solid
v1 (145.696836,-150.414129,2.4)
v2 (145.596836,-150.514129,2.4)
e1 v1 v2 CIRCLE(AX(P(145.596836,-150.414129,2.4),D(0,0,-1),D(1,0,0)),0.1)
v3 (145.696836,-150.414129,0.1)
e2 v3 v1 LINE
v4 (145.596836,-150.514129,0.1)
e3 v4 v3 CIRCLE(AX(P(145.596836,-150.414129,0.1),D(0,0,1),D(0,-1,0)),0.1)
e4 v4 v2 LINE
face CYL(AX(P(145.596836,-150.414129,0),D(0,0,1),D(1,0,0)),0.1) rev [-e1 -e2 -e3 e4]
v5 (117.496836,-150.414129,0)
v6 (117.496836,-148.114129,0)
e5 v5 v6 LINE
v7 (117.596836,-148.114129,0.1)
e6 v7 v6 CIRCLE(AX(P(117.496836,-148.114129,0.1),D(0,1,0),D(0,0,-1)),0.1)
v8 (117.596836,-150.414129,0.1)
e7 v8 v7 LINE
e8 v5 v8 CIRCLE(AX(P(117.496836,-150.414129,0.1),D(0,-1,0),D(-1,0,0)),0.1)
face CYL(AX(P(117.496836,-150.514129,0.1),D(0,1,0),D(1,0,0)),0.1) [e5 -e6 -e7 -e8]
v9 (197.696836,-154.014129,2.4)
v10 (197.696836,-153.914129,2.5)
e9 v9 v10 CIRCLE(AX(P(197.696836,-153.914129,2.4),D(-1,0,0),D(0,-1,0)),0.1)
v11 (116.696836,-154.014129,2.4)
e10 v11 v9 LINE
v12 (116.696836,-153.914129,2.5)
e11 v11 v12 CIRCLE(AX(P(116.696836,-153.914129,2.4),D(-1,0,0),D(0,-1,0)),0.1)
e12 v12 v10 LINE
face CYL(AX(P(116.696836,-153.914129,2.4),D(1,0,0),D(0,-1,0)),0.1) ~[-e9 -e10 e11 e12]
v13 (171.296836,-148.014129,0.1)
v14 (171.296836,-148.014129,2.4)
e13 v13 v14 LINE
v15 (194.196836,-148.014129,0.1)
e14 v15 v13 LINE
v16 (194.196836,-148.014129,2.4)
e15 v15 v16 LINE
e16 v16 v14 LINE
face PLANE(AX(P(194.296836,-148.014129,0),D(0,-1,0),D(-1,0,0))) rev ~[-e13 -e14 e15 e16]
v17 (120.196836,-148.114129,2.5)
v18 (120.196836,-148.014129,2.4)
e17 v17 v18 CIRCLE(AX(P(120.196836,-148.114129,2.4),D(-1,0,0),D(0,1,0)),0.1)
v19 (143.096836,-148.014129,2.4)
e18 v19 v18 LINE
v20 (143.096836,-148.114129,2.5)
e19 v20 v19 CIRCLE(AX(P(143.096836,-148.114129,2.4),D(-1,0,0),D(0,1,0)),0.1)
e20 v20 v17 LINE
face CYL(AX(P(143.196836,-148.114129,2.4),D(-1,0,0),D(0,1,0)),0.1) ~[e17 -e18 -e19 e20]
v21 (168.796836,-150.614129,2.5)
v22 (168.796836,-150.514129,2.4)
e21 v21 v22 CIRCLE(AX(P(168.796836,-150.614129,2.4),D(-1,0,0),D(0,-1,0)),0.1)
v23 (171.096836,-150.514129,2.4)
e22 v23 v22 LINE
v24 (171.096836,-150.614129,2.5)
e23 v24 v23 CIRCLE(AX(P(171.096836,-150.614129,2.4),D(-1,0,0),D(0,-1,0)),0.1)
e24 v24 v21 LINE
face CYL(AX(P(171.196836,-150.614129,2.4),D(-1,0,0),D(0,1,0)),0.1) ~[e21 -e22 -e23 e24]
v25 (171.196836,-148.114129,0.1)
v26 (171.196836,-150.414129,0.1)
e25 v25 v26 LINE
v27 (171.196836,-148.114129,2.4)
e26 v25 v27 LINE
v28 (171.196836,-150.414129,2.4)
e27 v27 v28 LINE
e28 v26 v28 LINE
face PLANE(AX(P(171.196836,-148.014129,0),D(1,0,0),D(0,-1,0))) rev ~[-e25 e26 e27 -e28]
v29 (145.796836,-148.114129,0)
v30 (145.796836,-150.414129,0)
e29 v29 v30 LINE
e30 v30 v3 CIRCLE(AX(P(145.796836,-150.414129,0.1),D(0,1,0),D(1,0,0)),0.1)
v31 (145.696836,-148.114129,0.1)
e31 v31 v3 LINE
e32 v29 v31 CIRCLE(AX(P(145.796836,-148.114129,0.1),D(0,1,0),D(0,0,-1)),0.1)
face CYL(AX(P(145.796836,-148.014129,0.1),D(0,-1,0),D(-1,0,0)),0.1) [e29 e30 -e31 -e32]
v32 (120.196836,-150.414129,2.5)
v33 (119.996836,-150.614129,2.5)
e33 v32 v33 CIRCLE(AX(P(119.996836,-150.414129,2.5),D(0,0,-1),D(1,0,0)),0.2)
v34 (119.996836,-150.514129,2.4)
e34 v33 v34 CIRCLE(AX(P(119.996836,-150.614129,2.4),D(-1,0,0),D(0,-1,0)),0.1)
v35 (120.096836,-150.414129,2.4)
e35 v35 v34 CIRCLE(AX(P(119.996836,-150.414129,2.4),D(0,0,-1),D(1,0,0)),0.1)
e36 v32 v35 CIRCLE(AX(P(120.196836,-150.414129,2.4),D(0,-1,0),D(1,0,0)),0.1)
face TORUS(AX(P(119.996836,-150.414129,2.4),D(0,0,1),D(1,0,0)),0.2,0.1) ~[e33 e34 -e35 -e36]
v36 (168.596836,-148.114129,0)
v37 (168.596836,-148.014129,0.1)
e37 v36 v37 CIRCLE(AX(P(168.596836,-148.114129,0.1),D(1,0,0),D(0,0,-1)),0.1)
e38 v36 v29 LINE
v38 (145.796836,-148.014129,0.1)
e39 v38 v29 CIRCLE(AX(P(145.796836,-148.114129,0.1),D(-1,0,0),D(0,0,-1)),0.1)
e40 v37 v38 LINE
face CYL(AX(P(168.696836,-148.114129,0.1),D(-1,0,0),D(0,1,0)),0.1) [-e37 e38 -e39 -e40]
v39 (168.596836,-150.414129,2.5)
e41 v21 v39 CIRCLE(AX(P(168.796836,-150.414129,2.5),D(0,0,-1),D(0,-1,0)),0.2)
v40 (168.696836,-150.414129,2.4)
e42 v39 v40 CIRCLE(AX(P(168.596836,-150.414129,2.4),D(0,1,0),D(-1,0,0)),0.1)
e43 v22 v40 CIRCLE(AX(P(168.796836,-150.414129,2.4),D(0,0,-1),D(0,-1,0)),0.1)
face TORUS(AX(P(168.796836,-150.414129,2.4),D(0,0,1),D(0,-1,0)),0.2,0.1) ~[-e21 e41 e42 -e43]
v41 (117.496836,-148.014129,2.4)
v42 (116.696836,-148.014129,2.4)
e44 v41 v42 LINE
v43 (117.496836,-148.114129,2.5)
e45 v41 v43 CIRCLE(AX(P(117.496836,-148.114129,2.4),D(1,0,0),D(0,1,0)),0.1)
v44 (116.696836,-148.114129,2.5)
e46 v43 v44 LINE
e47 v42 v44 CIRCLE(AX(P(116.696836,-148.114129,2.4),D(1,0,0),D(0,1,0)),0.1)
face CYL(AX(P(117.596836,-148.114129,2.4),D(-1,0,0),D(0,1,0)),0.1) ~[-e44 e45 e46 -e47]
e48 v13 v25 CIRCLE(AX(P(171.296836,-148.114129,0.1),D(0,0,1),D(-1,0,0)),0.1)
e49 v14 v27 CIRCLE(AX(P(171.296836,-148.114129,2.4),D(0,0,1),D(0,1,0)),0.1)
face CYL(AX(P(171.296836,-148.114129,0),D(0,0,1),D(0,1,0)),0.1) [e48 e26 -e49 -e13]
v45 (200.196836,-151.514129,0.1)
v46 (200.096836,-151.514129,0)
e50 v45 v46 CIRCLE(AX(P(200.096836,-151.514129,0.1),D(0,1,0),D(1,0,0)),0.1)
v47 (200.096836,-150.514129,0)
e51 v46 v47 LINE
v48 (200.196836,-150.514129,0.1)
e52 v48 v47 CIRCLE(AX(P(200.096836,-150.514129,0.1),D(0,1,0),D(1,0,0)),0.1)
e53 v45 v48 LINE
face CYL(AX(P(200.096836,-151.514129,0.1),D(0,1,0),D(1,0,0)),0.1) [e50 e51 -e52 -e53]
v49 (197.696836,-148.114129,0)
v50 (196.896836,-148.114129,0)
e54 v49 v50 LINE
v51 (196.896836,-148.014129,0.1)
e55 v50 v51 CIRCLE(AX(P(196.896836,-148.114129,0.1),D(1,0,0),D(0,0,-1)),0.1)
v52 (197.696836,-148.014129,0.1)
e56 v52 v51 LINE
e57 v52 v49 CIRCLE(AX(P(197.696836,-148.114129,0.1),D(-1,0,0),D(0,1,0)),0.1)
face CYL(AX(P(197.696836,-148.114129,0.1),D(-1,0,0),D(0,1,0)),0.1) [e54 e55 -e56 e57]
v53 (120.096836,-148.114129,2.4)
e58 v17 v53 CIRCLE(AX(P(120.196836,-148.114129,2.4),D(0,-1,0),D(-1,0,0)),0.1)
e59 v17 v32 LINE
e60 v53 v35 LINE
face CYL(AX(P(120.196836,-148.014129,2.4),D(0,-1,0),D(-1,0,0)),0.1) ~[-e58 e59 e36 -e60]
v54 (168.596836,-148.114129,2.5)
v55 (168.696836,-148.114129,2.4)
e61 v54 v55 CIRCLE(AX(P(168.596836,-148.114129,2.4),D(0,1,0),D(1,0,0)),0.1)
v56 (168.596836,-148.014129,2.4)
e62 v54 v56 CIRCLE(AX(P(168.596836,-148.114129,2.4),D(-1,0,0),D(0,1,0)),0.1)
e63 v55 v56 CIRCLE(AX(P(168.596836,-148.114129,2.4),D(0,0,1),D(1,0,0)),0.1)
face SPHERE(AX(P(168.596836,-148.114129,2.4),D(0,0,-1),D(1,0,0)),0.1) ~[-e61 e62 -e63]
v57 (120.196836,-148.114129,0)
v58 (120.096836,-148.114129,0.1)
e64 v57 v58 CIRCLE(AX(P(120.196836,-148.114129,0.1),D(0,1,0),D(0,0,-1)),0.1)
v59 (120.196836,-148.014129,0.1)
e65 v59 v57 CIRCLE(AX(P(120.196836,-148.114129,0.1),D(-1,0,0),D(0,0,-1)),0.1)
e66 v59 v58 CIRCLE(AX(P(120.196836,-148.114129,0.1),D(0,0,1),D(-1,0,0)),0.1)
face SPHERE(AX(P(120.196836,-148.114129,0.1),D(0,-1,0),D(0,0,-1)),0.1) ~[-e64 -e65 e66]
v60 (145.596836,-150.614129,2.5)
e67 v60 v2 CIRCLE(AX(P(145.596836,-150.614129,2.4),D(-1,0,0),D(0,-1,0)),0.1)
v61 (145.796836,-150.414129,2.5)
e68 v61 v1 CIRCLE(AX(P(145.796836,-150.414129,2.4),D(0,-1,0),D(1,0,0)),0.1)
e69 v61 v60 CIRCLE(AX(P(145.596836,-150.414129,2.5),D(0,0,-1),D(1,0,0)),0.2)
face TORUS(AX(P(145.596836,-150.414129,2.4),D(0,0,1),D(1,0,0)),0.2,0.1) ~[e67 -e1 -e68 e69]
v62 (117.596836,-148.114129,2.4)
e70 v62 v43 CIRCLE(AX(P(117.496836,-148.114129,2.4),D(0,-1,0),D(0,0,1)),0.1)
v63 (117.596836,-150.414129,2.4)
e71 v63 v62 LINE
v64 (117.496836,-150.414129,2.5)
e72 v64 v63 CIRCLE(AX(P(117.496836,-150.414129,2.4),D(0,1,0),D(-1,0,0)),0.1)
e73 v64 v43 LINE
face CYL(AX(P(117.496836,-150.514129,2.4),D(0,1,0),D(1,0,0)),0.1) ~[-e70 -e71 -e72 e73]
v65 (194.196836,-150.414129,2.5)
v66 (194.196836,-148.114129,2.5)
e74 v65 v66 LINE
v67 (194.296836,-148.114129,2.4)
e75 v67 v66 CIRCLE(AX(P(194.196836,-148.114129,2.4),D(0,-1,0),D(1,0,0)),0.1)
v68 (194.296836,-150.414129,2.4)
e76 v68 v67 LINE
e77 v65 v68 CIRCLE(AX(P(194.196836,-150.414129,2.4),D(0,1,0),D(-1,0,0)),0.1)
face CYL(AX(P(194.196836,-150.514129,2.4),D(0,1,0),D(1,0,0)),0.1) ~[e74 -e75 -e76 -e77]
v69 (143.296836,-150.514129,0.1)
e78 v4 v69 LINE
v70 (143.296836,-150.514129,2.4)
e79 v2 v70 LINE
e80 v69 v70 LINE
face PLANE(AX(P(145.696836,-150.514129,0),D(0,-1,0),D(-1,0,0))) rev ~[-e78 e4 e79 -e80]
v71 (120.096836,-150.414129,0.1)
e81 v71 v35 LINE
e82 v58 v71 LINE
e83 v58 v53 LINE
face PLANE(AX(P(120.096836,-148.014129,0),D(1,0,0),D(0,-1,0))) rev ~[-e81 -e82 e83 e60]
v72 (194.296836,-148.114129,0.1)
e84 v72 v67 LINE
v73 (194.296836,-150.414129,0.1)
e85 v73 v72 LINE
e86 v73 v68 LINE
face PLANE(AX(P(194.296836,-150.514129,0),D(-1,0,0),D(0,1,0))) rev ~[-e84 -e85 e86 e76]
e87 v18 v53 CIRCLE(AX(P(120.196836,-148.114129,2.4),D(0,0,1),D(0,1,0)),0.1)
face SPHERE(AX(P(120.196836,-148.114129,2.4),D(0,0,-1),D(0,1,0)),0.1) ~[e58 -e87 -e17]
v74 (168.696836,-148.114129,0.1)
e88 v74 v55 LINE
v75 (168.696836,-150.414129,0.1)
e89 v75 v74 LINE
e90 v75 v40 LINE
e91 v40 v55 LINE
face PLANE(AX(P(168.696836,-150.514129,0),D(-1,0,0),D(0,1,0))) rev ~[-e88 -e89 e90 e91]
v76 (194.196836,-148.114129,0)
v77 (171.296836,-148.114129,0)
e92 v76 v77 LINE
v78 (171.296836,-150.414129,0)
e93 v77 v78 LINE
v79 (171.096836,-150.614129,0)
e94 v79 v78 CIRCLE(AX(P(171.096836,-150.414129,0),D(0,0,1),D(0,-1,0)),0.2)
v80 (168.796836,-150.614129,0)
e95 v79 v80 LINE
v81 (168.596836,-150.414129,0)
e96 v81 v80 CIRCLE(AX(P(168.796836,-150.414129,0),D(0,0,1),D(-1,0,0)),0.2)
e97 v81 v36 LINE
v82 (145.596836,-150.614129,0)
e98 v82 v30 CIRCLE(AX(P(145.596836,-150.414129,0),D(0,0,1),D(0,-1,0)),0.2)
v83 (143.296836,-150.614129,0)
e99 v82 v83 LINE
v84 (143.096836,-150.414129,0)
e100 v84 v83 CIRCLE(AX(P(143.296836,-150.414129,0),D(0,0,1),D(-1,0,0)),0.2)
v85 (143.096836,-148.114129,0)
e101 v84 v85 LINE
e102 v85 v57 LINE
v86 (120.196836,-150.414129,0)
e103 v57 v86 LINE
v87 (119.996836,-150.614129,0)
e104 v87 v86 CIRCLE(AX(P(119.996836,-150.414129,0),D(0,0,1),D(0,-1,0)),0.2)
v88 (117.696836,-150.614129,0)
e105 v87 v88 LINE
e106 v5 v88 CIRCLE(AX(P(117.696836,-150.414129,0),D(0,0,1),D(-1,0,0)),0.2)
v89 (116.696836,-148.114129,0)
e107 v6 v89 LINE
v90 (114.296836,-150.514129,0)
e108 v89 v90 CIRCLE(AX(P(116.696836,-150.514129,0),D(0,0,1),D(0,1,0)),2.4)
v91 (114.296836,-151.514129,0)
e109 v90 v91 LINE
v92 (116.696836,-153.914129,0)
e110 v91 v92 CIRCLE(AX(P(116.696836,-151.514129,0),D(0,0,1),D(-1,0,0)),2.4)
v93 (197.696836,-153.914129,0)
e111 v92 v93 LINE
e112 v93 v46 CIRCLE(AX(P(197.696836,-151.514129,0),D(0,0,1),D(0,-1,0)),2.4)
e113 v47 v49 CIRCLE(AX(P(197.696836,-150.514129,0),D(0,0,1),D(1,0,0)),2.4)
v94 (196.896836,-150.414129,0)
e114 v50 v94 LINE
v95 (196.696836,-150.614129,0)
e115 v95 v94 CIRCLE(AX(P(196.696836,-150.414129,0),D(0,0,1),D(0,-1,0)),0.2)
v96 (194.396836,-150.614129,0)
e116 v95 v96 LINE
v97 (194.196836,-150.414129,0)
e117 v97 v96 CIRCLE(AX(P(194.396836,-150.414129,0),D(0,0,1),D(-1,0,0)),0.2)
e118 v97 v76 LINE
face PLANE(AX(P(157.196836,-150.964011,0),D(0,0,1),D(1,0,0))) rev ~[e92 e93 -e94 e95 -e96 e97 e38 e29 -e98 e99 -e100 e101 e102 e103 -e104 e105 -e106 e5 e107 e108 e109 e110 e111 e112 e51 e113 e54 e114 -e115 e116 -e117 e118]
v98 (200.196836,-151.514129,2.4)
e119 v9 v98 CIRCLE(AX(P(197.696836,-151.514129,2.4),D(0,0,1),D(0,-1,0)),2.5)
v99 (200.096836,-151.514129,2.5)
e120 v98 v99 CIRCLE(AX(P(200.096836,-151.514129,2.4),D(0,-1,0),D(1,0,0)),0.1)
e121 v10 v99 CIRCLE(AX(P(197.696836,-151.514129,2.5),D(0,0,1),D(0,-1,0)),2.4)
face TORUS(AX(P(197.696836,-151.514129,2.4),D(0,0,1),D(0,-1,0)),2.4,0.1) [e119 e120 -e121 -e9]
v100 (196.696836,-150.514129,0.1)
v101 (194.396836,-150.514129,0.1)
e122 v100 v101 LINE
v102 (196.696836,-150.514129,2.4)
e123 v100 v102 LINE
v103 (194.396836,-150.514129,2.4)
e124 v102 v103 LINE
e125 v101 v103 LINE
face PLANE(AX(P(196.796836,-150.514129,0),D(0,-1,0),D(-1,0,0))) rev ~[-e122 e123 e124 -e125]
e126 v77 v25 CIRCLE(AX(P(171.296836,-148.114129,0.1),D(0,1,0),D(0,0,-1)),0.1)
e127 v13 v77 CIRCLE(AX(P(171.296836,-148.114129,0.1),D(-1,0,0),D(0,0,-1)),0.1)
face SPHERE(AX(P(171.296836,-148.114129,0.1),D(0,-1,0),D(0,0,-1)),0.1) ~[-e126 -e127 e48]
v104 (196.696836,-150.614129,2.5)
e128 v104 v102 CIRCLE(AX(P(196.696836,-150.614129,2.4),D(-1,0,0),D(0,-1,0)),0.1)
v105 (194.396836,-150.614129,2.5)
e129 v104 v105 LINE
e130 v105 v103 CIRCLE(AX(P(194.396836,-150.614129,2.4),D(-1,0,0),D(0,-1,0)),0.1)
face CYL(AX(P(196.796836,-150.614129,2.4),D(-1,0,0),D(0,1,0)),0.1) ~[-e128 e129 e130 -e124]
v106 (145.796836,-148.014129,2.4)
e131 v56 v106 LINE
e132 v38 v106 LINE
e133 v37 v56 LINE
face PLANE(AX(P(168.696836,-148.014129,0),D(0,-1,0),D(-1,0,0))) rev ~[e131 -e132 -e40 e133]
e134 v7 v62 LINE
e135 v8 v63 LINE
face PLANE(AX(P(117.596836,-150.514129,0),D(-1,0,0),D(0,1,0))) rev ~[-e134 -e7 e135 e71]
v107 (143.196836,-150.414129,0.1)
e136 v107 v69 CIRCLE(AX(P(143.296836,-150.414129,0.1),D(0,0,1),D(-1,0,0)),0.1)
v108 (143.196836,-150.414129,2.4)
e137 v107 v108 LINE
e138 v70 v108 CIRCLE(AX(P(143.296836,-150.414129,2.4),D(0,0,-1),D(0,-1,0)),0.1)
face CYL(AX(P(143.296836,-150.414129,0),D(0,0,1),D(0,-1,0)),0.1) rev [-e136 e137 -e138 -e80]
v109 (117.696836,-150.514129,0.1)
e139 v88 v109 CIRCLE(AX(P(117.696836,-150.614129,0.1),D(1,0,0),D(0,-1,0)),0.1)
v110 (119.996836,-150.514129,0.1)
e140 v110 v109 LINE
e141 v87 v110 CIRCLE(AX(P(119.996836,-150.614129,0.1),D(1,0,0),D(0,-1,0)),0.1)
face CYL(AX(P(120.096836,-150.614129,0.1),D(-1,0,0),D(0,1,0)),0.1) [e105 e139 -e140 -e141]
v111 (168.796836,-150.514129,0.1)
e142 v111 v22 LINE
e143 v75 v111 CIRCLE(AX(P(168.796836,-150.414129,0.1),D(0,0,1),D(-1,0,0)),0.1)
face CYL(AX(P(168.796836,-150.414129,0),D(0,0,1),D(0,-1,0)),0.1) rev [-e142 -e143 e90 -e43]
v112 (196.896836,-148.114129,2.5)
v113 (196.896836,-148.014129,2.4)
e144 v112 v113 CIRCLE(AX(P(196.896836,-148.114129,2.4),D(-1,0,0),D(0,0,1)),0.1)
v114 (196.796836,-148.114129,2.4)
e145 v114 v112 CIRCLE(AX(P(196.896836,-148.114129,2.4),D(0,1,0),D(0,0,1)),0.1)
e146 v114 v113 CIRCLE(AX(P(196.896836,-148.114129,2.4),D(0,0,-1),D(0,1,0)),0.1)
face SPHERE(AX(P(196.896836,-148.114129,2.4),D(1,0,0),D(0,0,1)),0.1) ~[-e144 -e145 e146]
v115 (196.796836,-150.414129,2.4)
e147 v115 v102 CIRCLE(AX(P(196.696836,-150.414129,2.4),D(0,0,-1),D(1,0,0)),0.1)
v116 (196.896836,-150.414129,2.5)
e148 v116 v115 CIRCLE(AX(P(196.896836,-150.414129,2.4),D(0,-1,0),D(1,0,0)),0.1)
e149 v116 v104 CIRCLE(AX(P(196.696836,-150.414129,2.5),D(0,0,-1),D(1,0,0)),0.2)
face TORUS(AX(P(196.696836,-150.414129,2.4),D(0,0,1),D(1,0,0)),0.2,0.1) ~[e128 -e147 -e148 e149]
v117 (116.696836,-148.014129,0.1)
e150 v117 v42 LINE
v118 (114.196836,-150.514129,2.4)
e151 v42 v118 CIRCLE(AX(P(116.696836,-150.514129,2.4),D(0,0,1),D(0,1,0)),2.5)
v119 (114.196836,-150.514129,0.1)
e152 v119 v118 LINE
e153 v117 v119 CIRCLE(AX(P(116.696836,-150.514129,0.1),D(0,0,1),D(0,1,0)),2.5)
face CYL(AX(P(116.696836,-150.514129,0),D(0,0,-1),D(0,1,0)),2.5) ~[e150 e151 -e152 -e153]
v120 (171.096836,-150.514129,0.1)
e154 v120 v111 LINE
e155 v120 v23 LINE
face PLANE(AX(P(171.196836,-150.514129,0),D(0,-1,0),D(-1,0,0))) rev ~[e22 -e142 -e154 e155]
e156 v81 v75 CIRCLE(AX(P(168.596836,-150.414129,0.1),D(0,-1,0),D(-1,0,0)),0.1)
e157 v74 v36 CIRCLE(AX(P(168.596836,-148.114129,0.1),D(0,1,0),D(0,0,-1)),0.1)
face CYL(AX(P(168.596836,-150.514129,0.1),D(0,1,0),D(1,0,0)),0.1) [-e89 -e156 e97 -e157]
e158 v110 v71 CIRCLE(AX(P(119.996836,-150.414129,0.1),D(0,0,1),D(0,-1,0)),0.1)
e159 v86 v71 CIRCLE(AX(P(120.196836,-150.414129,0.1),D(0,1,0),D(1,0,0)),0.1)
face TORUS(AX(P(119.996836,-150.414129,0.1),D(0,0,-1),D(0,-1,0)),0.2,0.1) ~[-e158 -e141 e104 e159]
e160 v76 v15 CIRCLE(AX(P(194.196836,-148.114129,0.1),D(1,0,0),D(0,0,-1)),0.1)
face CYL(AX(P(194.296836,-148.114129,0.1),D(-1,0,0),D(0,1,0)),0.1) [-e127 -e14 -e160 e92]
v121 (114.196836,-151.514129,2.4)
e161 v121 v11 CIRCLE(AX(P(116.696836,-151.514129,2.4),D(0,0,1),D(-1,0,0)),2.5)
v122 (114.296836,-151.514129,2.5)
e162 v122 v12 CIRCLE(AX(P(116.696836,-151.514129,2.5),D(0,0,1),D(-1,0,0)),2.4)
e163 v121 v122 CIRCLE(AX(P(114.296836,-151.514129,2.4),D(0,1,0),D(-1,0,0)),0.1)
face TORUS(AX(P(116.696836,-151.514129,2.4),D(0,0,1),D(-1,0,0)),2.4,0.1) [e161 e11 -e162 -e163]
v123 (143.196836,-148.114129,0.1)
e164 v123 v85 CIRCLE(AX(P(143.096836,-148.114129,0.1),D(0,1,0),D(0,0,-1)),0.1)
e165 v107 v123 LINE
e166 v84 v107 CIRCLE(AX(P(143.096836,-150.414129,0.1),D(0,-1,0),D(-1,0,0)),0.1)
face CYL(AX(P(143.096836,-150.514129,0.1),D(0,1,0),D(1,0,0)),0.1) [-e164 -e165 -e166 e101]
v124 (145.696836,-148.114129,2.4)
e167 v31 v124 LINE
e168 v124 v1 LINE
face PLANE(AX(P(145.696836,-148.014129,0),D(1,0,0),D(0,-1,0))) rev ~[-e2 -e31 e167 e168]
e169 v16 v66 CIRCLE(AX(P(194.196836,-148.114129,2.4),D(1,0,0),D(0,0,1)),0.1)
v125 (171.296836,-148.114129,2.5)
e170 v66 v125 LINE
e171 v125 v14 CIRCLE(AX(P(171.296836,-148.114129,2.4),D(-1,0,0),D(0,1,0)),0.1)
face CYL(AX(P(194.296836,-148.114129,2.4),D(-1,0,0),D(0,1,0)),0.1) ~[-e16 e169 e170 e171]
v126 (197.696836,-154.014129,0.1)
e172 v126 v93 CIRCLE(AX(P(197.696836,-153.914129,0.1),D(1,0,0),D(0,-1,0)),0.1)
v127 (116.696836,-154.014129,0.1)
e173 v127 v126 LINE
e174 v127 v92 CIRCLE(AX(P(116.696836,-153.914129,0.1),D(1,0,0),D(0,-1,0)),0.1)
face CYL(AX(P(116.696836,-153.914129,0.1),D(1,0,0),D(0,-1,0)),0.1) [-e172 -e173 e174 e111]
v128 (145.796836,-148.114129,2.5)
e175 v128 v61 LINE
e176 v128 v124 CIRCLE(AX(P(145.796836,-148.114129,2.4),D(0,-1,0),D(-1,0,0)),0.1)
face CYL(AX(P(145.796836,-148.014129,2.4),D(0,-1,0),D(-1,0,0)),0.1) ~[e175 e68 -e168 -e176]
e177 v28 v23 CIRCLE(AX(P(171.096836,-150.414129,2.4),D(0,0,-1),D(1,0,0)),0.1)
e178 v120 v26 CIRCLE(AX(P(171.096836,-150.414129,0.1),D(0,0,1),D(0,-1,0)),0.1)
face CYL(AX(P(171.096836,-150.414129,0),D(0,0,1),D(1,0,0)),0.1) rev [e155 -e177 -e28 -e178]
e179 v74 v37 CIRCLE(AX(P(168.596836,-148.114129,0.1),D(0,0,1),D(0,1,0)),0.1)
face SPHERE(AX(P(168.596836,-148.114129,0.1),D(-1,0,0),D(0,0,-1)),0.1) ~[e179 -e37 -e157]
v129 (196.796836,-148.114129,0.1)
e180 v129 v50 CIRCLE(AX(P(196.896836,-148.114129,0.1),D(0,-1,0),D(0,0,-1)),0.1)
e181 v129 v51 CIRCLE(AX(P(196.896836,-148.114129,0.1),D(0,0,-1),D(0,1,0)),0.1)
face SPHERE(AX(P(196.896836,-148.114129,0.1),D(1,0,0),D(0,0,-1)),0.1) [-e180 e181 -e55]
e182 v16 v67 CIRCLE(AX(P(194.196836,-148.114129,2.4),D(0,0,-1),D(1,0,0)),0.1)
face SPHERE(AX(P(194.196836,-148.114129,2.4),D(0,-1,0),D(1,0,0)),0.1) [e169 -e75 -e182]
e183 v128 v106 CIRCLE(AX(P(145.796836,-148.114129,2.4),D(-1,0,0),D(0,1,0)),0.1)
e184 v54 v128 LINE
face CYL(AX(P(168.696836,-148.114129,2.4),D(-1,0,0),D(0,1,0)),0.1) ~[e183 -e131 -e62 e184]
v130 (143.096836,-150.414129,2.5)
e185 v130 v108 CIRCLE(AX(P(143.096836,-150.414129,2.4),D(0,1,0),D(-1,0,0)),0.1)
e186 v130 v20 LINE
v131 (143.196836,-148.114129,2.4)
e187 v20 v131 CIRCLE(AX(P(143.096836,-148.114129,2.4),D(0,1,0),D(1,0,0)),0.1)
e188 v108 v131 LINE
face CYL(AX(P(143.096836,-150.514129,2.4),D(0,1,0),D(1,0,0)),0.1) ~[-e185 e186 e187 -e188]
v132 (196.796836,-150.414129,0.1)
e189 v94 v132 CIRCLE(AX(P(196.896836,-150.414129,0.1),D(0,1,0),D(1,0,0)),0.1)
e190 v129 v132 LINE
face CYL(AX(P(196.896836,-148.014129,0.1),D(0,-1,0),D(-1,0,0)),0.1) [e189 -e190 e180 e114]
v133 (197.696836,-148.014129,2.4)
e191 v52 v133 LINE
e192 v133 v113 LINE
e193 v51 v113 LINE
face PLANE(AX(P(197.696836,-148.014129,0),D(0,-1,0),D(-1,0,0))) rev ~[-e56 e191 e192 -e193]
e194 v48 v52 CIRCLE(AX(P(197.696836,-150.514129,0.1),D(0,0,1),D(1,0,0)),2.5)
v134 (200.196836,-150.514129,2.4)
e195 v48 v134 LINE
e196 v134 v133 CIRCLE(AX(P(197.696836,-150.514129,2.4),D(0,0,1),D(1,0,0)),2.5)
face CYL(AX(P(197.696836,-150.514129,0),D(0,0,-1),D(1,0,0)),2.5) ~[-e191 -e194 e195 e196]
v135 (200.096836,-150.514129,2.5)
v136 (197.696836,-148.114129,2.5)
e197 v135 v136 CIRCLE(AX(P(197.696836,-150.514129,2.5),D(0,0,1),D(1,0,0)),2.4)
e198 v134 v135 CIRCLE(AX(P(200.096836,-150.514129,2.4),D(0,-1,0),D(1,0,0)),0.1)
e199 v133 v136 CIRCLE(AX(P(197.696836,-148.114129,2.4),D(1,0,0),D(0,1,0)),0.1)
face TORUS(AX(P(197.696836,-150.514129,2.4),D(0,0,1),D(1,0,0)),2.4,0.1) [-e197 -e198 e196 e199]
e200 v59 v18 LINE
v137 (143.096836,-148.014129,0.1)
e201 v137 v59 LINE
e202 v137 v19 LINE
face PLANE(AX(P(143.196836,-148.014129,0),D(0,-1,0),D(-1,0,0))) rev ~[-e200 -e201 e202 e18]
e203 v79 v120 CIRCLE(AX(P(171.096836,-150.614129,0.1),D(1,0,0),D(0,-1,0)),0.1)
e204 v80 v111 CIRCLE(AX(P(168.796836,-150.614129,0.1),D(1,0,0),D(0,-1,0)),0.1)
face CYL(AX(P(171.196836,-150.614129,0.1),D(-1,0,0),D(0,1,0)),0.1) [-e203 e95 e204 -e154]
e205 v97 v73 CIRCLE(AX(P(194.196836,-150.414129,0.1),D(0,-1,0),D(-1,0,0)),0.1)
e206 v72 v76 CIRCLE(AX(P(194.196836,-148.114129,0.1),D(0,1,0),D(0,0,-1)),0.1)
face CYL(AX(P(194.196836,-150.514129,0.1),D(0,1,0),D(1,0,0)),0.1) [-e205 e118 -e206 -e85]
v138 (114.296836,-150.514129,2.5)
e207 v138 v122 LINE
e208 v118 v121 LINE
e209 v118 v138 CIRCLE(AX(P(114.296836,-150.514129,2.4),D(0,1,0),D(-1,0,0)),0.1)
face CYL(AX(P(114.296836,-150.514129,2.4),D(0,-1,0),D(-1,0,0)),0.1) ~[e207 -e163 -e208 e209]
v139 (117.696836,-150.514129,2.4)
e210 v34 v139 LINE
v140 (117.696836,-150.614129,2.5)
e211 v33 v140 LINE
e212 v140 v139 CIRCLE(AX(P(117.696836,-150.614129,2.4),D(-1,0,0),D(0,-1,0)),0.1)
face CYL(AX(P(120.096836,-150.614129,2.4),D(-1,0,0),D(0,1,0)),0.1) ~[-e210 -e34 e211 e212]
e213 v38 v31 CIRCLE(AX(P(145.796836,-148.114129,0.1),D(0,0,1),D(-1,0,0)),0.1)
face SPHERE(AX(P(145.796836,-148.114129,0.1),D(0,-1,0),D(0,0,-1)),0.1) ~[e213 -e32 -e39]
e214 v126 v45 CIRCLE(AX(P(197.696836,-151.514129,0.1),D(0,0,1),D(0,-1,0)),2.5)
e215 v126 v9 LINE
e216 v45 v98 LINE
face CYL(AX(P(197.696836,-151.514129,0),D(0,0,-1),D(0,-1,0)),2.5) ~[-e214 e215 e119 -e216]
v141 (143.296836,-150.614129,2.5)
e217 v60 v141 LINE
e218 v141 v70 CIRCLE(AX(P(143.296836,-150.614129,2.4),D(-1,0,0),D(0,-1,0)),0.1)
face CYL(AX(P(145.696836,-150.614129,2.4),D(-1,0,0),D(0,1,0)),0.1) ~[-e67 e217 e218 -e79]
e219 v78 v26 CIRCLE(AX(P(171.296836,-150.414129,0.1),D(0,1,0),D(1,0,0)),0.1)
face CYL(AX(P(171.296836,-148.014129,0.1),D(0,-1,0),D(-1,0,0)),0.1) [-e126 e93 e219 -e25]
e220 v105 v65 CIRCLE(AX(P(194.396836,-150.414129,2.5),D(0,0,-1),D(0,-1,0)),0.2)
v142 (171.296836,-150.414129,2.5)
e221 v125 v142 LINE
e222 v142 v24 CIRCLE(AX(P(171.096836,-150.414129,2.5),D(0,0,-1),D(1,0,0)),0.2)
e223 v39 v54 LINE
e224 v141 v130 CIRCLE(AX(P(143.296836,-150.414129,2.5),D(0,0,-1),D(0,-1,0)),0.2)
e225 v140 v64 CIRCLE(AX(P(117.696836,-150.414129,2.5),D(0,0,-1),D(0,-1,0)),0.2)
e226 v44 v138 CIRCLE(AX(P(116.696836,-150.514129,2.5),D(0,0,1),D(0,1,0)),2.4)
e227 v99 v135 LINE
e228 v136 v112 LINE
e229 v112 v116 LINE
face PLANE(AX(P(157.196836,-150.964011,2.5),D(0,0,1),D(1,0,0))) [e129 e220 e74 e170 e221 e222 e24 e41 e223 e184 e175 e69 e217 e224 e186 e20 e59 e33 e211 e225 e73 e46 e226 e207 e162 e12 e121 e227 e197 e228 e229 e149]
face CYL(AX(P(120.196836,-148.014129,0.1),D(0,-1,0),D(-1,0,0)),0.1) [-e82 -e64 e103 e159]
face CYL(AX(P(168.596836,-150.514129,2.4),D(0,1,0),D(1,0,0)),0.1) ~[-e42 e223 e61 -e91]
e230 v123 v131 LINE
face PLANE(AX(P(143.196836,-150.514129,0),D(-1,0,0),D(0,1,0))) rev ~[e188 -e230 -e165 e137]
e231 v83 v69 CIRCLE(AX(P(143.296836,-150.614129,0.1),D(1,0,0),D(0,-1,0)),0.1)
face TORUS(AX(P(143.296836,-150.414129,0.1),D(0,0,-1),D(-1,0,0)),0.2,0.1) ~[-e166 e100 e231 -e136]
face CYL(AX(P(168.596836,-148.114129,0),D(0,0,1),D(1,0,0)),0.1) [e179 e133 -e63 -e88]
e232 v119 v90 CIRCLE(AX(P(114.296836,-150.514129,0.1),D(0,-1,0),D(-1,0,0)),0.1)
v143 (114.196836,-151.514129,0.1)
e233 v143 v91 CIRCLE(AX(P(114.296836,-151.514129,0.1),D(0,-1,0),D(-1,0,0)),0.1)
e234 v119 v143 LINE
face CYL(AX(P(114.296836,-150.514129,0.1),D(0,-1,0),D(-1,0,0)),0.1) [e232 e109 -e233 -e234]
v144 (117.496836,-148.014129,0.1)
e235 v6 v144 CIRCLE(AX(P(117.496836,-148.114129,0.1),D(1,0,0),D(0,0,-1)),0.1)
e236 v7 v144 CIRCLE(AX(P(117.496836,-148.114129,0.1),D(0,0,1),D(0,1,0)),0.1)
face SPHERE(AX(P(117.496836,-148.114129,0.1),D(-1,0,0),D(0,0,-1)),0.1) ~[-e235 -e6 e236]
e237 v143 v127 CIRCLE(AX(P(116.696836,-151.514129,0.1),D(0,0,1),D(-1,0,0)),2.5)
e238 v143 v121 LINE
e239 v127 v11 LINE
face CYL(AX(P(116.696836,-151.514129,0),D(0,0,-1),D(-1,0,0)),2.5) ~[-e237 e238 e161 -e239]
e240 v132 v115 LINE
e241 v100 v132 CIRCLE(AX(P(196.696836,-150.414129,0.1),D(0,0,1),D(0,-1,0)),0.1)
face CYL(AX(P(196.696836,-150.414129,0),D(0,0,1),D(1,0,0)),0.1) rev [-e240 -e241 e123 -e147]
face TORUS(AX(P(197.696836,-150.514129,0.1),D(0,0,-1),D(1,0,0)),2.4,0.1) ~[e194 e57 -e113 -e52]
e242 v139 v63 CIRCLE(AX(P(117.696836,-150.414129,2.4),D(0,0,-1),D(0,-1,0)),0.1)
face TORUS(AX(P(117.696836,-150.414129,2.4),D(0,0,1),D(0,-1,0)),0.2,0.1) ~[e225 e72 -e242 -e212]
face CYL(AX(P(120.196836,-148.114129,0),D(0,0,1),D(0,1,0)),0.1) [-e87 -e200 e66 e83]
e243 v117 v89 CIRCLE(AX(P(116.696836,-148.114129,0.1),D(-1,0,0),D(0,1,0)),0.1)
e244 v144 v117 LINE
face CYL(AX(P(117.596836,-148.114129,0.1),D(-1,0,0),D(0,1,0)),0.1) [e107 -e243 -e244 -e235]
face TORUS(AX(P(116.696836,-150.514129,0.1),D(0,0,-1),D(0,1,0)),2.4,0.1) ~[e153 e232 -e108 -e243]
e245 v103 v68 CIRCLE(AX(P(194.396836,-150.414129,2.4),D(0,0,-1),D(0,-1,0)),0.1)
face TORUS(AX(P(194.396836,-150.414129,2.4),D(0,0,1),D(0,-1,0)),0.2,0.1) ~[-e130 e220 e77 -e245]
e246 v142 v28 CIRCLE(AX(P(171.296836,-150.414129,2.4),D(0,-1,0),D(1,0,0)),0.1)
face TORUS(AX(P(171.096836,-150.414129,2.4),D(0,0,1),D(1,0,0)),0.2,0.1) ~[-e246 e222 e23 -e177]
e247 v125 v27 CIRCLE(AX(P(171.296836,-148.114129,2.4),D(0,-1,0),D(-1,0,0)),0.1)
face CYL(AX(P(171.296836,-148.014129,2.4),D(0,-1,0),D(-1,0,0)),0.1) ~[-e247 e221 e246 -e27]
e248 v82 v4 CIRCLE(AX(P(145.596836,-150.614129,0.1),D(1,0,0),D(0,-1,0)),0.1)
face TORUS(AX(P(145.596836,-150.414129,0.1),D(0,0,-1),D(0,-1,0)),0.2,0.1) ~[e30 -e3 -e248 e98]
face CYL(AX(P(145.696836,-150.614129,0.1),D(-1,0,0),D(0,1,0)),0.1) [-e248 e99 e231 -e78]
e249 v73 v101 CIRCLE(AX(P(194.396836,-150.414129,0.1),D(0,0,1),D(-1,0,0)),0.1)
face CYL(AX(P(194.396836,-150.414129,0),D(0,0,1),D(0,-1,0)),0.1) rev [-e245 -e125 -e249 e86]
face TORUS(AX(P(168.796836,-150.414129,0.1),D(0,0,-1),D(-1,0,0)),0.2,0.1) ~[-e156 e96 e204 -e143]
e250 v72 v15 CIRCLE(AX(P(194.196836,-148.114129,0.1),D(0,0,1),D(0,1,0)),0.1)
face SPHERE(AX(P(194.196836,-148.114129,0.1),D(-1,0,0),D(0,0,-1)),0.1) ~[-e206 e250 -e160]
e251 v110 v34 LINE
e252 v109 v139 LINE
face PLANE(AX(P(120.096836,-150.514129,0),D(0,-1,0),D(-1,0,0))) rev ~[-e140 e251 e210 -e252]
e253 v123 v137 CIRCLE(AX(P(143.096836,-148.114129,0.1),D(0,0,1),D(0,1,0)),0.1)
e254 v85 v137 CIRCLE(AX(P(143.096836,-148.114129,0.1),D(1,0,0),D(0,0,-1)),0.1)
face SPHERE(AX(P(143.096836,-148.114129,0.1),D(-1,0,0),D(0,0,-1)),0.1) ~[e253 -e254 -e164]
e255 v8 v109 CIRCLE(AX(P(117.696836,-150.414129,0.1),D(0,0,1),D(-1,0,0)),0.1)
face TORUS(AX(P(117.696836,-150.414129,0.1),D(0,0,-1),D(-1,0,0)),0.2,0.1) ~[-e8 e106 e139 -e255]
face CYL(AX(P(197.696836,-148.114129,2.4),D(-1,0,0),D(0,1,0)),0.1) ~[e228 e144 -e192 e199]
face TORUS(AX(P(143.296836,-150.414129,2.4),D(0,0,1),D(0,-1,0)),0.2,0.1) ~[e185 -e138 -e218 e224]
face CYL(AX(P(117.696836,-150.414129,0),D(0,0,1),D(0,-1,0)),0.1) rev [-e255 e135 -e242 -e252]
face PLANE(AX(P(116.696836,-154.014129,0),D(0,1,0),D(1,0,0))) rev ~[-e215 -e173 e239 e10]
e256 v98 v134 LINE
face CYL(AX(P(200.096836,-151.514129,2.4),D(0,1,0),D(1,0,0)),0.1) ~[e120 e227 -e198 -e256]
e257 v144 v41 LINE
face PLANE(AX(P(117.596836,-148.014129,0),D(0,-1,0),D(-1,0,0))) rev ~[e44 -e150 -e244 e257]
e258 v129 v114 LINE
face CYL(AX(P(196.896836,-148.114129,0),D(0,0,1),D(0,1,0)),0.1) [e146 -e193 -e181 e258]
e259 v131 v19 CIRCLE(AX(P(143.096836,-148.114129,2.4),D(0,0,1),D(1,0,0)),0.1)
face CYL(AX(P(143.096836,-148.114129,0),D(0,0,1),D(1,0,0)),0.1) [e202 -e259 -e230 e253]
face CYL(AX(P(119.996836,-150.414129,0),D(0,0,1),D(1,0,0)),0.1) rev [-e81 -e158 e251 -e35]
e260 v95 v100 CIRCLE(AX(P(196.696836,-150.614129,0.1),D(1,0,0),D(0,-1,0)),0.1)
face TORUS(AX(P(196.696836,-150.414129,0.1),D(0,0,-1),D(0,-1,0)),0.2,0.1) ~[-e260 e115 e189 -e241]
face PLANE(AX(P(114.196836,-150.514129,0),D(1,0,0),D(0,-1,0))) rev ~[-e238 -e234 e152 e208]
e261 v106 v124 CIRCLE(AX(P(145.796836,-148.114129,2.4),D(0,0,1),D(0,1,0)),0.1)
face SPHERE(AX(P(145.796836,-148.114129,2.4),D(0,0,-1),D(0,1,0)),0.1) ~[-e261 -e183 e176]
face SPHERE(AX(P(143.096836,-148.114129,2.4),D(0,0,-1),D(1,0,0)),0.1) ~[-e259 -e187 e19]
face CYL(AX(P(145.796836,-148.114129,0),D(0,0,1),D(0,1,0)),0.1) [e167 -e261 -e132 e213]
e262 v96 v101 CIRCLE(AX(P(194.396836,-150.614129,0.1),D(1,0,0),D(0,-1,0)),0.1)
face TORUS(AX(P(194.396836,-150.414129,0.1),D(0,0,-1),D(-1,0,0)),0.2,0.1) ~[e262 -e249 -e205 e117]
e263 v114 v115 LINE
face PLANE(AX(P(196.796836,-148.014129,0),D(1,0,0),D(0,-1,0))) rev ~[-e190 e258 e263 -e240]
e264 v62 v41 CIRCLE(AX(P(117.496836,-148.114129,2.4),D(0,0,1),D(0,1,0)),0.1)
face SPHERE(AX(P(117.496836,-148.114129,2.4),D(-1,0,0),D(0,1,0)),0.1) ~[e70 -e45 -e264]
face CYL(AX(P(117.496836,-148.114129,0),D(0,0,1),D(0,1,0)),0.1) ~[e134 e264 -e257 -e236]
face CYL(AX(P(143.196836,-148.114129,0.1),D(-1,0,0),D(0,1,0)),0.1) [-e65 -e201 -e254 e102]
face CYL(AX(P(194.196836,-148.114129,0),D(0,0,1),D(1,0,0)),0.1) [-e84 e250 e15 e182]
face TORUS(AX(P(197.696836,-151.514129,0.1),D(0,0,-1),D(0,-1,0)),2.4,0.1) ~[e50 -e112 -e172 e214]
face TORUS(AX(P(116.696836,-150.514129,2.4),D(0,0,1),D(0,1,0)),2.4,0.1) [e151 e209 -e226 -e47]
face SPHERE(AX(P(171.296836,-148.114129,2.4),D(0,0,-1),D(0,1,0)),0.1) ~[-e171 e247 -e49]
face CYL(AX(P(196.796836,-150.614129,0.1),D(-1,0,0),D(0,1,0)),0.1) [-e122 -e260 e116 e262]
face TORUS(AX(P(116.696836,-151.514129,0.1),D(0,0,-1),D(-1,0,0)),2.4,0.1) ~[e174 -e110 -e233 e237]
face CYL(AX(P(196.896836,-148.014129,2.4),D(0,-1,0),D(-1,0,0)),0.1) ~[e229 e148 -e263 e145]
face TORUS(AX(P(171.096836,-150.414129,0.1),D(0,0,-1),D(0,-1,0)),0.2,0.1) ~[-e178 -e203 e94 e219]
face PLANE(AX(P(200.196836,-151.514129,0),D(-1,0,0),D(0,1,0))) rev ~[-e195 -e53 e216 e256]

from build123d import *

# Parameters (mm, degrees)
RESSALTO_EXTRUS_O1_DEPTH = 2.5
FILETE1_R                = 0.1


with BuildPart() as part:
    # Esboço1 → Ressalto-extrusão1 (new body)
    with BuildSketch(Plane.XY):
        with BuildLine():
            Line((117.596836241, -148.014129344), (116.696836241, -148.014129344))
            ThreePointArc((116.696836241, -148.014129344), (114.929069288, -148.746362391), (114.196836241, -150.514129344))
            Line((114.196836241, -150.514129344), (114.196836241, -151.514129344))
            ThreePointArc((114.196836241, -151.514129344), (114.929069288, -153.281896297), (116.696836241, -154.014129344))
            Line((116.696836241, -154.014129344), (197.696836241, -154.014129344))
            ThreePointArc((197.696836241, -154.014129344), (199.464603194, -153.281896297), (200.196836241, -151.514129344))
            Line((200.196836241, -151.514129344), (200.196836241, -150.514129344))
            ThreePointArc((200.196836241, -150.514129344), (199.464603194, -148.746362391), (197.696836241, -148.014129344))
            Line((197.696836241, -148.014129344), (196.796836241, -148.014129344))
            Line((196.796836241, -148.014129344), (196.796836241, -150.514129344))
            Line((196.796836241, -150.514129344), (194.296836241, -150.514129344))
            Line((194.296836241, -150.514129344), (194.296836241, -148.014129344))
            Line((194.296836241, -148.014129344), (171.196836241, -148.014129344))
            Line((171.196836241, -148.014129344), (171.196836241, -150.514129344))
            Line((171.196836241, -150.514129344), (168.696836241, -150.514129344))
            Line((168.696836241, -150.514129344), (168.696836241, -148.014129344))
            Line((168.696836241, -148.014129344), (145.696836241, -148.014129344))
            Line((145.696836241, -148.014129344), (145.696836241, -150.514129344))
            Line((145.696836241, -150.514129344), (143.196836241, -150.514129344))
            Line((143.196836241, -150.514129344), (143.196836241, -148.014129344))
            Line((143.196836241, -148.014129344), (120.096836241, -148.014129344))
            Line((120.096836241, -148.014129344), (120.096836241, -150.514129344))
            Line((120.096836241, -150.514129344), (117.596836241, -150.514129344))
            Line((117.596836241, -150.514129344), (117.596836241, -148.014129344))
        make_face()
    extrude(amount=RESSALTO_EXTRUS_O1_DEPTH)

    # Filete1
    filete1_edges = [part.edges().sort_by_distance(p)[0] for p in [
        (157.196836241, -154.014129344, 2.5),
        (199.464603194, -153.281896297, 2.5),
        (200.196836241, -151.014129344, 2.5),
        (114.929069288, -148.746362391, 0),
        (117.146836241, -148.014129344, 0),
        (117.596836241, -149.264129344, 0),
        (118.846836241, -150.514129344, 0),
        (120.096836241, -149.264129344, 0),
        (199.464603194, -148.746362391, 2.5),
        (131.646836241, -148.014129344, 0),
        (143.196836241, -149.264129344, 0),
        (144.446836241, -150.514129344, 0),
        (145.696836241, -149.264129344, 0),
        (157.196836241, -148.014129344, 0),
        (168.696836241, -149.264129344, 0),
        (169.946836241, -150.514129344, 0),
        (171.196836241, -149.264129344, 0),
        (197.246836241, -148.014129344, 2.5),
        (182.746836241, -148.014129344, 0),
        (194.296836241, -149.264129344, 0),
        (195.546836241, -150.514129344, 0),
        (196.796836241, -149.264129344, 0),
        (197.246836241, -148.014129344, 0),
        (199.464603194, -148.746362391, 0),
        (200.196836241, -151.014129344, 0),
        (199.464603194, -153.281896297, 0),
        (196.796836241, -149.264129344, 2.5),
        (157.196836241, -154.014129344, 0),
        (114.929069288, -153.281896297, 0),
        (114.196836241, -151.014129344, 0),
        (195.546836241, -150.514129344, 2.5),
        (194.296836241, -149.264129344, 2.5),
        (117.596836241, -148.014129344, 1.25),
        (117.596836241, -150.514129344, 1.25),
        (120.096836241, -150.514129344, 1.25),
        (120.096836241, -148.014129344, 1.25),
        (143.196836241, -148.014129344, 1.25),
        (143.196836241, -150.514129344, 1.25),
        (145.696836241, -150.514129344, 1.25),
        (145.696836241, -148.014129344, 1.25),
        (168.696836241, -148.014129344, 1.25),
        (168.696836241, -150.514129344, 1.25),
        (171.196836241, -150.514129344, 1.25),
        (171.196836241, -148.014129344, 1.25),
        (194.296836241, -148.014129344, 1.25),
        (194.296836241, -150.514129344, 1.25),
        (196.796836241, -150.514129344, 1.25),
        (196.796836241, -148.014129344, 1.25),
        (182.746836241, -148.014129344, 2.5),
        (171.196836241, -149.264129344, 2.5),
        (114.196836241, -151.014129344, 2.5),
        (169.946836241, -150.514129344, 2.5),
        (168.696836241, -149.264129344, 2.5),
        (157.196836241, -148.014129344, 2.5),
        (145.696836241, -149.264129344, 2.5),
        (144.446836241, -150.514129344, 2.5),
        (143.196836241, -149.264129344, 2.5),
        (131.646836241, -148.014129344, 2.5),
        (120.096836241, -149.264129344, 2.5),
        (118.846836241, -150.514129344, 2.5),
        (117.596836241, -149.264129344, 2.5),
        (114.929069288, -153.281896297, 2.5),
        (117.146836241, -148.014129344, 2.5),
        (114.929069288, -148.746362391, 2.5),
    ]]
    fillet(filete1_edges, radius=FILETE1_R)


solid = part.part
